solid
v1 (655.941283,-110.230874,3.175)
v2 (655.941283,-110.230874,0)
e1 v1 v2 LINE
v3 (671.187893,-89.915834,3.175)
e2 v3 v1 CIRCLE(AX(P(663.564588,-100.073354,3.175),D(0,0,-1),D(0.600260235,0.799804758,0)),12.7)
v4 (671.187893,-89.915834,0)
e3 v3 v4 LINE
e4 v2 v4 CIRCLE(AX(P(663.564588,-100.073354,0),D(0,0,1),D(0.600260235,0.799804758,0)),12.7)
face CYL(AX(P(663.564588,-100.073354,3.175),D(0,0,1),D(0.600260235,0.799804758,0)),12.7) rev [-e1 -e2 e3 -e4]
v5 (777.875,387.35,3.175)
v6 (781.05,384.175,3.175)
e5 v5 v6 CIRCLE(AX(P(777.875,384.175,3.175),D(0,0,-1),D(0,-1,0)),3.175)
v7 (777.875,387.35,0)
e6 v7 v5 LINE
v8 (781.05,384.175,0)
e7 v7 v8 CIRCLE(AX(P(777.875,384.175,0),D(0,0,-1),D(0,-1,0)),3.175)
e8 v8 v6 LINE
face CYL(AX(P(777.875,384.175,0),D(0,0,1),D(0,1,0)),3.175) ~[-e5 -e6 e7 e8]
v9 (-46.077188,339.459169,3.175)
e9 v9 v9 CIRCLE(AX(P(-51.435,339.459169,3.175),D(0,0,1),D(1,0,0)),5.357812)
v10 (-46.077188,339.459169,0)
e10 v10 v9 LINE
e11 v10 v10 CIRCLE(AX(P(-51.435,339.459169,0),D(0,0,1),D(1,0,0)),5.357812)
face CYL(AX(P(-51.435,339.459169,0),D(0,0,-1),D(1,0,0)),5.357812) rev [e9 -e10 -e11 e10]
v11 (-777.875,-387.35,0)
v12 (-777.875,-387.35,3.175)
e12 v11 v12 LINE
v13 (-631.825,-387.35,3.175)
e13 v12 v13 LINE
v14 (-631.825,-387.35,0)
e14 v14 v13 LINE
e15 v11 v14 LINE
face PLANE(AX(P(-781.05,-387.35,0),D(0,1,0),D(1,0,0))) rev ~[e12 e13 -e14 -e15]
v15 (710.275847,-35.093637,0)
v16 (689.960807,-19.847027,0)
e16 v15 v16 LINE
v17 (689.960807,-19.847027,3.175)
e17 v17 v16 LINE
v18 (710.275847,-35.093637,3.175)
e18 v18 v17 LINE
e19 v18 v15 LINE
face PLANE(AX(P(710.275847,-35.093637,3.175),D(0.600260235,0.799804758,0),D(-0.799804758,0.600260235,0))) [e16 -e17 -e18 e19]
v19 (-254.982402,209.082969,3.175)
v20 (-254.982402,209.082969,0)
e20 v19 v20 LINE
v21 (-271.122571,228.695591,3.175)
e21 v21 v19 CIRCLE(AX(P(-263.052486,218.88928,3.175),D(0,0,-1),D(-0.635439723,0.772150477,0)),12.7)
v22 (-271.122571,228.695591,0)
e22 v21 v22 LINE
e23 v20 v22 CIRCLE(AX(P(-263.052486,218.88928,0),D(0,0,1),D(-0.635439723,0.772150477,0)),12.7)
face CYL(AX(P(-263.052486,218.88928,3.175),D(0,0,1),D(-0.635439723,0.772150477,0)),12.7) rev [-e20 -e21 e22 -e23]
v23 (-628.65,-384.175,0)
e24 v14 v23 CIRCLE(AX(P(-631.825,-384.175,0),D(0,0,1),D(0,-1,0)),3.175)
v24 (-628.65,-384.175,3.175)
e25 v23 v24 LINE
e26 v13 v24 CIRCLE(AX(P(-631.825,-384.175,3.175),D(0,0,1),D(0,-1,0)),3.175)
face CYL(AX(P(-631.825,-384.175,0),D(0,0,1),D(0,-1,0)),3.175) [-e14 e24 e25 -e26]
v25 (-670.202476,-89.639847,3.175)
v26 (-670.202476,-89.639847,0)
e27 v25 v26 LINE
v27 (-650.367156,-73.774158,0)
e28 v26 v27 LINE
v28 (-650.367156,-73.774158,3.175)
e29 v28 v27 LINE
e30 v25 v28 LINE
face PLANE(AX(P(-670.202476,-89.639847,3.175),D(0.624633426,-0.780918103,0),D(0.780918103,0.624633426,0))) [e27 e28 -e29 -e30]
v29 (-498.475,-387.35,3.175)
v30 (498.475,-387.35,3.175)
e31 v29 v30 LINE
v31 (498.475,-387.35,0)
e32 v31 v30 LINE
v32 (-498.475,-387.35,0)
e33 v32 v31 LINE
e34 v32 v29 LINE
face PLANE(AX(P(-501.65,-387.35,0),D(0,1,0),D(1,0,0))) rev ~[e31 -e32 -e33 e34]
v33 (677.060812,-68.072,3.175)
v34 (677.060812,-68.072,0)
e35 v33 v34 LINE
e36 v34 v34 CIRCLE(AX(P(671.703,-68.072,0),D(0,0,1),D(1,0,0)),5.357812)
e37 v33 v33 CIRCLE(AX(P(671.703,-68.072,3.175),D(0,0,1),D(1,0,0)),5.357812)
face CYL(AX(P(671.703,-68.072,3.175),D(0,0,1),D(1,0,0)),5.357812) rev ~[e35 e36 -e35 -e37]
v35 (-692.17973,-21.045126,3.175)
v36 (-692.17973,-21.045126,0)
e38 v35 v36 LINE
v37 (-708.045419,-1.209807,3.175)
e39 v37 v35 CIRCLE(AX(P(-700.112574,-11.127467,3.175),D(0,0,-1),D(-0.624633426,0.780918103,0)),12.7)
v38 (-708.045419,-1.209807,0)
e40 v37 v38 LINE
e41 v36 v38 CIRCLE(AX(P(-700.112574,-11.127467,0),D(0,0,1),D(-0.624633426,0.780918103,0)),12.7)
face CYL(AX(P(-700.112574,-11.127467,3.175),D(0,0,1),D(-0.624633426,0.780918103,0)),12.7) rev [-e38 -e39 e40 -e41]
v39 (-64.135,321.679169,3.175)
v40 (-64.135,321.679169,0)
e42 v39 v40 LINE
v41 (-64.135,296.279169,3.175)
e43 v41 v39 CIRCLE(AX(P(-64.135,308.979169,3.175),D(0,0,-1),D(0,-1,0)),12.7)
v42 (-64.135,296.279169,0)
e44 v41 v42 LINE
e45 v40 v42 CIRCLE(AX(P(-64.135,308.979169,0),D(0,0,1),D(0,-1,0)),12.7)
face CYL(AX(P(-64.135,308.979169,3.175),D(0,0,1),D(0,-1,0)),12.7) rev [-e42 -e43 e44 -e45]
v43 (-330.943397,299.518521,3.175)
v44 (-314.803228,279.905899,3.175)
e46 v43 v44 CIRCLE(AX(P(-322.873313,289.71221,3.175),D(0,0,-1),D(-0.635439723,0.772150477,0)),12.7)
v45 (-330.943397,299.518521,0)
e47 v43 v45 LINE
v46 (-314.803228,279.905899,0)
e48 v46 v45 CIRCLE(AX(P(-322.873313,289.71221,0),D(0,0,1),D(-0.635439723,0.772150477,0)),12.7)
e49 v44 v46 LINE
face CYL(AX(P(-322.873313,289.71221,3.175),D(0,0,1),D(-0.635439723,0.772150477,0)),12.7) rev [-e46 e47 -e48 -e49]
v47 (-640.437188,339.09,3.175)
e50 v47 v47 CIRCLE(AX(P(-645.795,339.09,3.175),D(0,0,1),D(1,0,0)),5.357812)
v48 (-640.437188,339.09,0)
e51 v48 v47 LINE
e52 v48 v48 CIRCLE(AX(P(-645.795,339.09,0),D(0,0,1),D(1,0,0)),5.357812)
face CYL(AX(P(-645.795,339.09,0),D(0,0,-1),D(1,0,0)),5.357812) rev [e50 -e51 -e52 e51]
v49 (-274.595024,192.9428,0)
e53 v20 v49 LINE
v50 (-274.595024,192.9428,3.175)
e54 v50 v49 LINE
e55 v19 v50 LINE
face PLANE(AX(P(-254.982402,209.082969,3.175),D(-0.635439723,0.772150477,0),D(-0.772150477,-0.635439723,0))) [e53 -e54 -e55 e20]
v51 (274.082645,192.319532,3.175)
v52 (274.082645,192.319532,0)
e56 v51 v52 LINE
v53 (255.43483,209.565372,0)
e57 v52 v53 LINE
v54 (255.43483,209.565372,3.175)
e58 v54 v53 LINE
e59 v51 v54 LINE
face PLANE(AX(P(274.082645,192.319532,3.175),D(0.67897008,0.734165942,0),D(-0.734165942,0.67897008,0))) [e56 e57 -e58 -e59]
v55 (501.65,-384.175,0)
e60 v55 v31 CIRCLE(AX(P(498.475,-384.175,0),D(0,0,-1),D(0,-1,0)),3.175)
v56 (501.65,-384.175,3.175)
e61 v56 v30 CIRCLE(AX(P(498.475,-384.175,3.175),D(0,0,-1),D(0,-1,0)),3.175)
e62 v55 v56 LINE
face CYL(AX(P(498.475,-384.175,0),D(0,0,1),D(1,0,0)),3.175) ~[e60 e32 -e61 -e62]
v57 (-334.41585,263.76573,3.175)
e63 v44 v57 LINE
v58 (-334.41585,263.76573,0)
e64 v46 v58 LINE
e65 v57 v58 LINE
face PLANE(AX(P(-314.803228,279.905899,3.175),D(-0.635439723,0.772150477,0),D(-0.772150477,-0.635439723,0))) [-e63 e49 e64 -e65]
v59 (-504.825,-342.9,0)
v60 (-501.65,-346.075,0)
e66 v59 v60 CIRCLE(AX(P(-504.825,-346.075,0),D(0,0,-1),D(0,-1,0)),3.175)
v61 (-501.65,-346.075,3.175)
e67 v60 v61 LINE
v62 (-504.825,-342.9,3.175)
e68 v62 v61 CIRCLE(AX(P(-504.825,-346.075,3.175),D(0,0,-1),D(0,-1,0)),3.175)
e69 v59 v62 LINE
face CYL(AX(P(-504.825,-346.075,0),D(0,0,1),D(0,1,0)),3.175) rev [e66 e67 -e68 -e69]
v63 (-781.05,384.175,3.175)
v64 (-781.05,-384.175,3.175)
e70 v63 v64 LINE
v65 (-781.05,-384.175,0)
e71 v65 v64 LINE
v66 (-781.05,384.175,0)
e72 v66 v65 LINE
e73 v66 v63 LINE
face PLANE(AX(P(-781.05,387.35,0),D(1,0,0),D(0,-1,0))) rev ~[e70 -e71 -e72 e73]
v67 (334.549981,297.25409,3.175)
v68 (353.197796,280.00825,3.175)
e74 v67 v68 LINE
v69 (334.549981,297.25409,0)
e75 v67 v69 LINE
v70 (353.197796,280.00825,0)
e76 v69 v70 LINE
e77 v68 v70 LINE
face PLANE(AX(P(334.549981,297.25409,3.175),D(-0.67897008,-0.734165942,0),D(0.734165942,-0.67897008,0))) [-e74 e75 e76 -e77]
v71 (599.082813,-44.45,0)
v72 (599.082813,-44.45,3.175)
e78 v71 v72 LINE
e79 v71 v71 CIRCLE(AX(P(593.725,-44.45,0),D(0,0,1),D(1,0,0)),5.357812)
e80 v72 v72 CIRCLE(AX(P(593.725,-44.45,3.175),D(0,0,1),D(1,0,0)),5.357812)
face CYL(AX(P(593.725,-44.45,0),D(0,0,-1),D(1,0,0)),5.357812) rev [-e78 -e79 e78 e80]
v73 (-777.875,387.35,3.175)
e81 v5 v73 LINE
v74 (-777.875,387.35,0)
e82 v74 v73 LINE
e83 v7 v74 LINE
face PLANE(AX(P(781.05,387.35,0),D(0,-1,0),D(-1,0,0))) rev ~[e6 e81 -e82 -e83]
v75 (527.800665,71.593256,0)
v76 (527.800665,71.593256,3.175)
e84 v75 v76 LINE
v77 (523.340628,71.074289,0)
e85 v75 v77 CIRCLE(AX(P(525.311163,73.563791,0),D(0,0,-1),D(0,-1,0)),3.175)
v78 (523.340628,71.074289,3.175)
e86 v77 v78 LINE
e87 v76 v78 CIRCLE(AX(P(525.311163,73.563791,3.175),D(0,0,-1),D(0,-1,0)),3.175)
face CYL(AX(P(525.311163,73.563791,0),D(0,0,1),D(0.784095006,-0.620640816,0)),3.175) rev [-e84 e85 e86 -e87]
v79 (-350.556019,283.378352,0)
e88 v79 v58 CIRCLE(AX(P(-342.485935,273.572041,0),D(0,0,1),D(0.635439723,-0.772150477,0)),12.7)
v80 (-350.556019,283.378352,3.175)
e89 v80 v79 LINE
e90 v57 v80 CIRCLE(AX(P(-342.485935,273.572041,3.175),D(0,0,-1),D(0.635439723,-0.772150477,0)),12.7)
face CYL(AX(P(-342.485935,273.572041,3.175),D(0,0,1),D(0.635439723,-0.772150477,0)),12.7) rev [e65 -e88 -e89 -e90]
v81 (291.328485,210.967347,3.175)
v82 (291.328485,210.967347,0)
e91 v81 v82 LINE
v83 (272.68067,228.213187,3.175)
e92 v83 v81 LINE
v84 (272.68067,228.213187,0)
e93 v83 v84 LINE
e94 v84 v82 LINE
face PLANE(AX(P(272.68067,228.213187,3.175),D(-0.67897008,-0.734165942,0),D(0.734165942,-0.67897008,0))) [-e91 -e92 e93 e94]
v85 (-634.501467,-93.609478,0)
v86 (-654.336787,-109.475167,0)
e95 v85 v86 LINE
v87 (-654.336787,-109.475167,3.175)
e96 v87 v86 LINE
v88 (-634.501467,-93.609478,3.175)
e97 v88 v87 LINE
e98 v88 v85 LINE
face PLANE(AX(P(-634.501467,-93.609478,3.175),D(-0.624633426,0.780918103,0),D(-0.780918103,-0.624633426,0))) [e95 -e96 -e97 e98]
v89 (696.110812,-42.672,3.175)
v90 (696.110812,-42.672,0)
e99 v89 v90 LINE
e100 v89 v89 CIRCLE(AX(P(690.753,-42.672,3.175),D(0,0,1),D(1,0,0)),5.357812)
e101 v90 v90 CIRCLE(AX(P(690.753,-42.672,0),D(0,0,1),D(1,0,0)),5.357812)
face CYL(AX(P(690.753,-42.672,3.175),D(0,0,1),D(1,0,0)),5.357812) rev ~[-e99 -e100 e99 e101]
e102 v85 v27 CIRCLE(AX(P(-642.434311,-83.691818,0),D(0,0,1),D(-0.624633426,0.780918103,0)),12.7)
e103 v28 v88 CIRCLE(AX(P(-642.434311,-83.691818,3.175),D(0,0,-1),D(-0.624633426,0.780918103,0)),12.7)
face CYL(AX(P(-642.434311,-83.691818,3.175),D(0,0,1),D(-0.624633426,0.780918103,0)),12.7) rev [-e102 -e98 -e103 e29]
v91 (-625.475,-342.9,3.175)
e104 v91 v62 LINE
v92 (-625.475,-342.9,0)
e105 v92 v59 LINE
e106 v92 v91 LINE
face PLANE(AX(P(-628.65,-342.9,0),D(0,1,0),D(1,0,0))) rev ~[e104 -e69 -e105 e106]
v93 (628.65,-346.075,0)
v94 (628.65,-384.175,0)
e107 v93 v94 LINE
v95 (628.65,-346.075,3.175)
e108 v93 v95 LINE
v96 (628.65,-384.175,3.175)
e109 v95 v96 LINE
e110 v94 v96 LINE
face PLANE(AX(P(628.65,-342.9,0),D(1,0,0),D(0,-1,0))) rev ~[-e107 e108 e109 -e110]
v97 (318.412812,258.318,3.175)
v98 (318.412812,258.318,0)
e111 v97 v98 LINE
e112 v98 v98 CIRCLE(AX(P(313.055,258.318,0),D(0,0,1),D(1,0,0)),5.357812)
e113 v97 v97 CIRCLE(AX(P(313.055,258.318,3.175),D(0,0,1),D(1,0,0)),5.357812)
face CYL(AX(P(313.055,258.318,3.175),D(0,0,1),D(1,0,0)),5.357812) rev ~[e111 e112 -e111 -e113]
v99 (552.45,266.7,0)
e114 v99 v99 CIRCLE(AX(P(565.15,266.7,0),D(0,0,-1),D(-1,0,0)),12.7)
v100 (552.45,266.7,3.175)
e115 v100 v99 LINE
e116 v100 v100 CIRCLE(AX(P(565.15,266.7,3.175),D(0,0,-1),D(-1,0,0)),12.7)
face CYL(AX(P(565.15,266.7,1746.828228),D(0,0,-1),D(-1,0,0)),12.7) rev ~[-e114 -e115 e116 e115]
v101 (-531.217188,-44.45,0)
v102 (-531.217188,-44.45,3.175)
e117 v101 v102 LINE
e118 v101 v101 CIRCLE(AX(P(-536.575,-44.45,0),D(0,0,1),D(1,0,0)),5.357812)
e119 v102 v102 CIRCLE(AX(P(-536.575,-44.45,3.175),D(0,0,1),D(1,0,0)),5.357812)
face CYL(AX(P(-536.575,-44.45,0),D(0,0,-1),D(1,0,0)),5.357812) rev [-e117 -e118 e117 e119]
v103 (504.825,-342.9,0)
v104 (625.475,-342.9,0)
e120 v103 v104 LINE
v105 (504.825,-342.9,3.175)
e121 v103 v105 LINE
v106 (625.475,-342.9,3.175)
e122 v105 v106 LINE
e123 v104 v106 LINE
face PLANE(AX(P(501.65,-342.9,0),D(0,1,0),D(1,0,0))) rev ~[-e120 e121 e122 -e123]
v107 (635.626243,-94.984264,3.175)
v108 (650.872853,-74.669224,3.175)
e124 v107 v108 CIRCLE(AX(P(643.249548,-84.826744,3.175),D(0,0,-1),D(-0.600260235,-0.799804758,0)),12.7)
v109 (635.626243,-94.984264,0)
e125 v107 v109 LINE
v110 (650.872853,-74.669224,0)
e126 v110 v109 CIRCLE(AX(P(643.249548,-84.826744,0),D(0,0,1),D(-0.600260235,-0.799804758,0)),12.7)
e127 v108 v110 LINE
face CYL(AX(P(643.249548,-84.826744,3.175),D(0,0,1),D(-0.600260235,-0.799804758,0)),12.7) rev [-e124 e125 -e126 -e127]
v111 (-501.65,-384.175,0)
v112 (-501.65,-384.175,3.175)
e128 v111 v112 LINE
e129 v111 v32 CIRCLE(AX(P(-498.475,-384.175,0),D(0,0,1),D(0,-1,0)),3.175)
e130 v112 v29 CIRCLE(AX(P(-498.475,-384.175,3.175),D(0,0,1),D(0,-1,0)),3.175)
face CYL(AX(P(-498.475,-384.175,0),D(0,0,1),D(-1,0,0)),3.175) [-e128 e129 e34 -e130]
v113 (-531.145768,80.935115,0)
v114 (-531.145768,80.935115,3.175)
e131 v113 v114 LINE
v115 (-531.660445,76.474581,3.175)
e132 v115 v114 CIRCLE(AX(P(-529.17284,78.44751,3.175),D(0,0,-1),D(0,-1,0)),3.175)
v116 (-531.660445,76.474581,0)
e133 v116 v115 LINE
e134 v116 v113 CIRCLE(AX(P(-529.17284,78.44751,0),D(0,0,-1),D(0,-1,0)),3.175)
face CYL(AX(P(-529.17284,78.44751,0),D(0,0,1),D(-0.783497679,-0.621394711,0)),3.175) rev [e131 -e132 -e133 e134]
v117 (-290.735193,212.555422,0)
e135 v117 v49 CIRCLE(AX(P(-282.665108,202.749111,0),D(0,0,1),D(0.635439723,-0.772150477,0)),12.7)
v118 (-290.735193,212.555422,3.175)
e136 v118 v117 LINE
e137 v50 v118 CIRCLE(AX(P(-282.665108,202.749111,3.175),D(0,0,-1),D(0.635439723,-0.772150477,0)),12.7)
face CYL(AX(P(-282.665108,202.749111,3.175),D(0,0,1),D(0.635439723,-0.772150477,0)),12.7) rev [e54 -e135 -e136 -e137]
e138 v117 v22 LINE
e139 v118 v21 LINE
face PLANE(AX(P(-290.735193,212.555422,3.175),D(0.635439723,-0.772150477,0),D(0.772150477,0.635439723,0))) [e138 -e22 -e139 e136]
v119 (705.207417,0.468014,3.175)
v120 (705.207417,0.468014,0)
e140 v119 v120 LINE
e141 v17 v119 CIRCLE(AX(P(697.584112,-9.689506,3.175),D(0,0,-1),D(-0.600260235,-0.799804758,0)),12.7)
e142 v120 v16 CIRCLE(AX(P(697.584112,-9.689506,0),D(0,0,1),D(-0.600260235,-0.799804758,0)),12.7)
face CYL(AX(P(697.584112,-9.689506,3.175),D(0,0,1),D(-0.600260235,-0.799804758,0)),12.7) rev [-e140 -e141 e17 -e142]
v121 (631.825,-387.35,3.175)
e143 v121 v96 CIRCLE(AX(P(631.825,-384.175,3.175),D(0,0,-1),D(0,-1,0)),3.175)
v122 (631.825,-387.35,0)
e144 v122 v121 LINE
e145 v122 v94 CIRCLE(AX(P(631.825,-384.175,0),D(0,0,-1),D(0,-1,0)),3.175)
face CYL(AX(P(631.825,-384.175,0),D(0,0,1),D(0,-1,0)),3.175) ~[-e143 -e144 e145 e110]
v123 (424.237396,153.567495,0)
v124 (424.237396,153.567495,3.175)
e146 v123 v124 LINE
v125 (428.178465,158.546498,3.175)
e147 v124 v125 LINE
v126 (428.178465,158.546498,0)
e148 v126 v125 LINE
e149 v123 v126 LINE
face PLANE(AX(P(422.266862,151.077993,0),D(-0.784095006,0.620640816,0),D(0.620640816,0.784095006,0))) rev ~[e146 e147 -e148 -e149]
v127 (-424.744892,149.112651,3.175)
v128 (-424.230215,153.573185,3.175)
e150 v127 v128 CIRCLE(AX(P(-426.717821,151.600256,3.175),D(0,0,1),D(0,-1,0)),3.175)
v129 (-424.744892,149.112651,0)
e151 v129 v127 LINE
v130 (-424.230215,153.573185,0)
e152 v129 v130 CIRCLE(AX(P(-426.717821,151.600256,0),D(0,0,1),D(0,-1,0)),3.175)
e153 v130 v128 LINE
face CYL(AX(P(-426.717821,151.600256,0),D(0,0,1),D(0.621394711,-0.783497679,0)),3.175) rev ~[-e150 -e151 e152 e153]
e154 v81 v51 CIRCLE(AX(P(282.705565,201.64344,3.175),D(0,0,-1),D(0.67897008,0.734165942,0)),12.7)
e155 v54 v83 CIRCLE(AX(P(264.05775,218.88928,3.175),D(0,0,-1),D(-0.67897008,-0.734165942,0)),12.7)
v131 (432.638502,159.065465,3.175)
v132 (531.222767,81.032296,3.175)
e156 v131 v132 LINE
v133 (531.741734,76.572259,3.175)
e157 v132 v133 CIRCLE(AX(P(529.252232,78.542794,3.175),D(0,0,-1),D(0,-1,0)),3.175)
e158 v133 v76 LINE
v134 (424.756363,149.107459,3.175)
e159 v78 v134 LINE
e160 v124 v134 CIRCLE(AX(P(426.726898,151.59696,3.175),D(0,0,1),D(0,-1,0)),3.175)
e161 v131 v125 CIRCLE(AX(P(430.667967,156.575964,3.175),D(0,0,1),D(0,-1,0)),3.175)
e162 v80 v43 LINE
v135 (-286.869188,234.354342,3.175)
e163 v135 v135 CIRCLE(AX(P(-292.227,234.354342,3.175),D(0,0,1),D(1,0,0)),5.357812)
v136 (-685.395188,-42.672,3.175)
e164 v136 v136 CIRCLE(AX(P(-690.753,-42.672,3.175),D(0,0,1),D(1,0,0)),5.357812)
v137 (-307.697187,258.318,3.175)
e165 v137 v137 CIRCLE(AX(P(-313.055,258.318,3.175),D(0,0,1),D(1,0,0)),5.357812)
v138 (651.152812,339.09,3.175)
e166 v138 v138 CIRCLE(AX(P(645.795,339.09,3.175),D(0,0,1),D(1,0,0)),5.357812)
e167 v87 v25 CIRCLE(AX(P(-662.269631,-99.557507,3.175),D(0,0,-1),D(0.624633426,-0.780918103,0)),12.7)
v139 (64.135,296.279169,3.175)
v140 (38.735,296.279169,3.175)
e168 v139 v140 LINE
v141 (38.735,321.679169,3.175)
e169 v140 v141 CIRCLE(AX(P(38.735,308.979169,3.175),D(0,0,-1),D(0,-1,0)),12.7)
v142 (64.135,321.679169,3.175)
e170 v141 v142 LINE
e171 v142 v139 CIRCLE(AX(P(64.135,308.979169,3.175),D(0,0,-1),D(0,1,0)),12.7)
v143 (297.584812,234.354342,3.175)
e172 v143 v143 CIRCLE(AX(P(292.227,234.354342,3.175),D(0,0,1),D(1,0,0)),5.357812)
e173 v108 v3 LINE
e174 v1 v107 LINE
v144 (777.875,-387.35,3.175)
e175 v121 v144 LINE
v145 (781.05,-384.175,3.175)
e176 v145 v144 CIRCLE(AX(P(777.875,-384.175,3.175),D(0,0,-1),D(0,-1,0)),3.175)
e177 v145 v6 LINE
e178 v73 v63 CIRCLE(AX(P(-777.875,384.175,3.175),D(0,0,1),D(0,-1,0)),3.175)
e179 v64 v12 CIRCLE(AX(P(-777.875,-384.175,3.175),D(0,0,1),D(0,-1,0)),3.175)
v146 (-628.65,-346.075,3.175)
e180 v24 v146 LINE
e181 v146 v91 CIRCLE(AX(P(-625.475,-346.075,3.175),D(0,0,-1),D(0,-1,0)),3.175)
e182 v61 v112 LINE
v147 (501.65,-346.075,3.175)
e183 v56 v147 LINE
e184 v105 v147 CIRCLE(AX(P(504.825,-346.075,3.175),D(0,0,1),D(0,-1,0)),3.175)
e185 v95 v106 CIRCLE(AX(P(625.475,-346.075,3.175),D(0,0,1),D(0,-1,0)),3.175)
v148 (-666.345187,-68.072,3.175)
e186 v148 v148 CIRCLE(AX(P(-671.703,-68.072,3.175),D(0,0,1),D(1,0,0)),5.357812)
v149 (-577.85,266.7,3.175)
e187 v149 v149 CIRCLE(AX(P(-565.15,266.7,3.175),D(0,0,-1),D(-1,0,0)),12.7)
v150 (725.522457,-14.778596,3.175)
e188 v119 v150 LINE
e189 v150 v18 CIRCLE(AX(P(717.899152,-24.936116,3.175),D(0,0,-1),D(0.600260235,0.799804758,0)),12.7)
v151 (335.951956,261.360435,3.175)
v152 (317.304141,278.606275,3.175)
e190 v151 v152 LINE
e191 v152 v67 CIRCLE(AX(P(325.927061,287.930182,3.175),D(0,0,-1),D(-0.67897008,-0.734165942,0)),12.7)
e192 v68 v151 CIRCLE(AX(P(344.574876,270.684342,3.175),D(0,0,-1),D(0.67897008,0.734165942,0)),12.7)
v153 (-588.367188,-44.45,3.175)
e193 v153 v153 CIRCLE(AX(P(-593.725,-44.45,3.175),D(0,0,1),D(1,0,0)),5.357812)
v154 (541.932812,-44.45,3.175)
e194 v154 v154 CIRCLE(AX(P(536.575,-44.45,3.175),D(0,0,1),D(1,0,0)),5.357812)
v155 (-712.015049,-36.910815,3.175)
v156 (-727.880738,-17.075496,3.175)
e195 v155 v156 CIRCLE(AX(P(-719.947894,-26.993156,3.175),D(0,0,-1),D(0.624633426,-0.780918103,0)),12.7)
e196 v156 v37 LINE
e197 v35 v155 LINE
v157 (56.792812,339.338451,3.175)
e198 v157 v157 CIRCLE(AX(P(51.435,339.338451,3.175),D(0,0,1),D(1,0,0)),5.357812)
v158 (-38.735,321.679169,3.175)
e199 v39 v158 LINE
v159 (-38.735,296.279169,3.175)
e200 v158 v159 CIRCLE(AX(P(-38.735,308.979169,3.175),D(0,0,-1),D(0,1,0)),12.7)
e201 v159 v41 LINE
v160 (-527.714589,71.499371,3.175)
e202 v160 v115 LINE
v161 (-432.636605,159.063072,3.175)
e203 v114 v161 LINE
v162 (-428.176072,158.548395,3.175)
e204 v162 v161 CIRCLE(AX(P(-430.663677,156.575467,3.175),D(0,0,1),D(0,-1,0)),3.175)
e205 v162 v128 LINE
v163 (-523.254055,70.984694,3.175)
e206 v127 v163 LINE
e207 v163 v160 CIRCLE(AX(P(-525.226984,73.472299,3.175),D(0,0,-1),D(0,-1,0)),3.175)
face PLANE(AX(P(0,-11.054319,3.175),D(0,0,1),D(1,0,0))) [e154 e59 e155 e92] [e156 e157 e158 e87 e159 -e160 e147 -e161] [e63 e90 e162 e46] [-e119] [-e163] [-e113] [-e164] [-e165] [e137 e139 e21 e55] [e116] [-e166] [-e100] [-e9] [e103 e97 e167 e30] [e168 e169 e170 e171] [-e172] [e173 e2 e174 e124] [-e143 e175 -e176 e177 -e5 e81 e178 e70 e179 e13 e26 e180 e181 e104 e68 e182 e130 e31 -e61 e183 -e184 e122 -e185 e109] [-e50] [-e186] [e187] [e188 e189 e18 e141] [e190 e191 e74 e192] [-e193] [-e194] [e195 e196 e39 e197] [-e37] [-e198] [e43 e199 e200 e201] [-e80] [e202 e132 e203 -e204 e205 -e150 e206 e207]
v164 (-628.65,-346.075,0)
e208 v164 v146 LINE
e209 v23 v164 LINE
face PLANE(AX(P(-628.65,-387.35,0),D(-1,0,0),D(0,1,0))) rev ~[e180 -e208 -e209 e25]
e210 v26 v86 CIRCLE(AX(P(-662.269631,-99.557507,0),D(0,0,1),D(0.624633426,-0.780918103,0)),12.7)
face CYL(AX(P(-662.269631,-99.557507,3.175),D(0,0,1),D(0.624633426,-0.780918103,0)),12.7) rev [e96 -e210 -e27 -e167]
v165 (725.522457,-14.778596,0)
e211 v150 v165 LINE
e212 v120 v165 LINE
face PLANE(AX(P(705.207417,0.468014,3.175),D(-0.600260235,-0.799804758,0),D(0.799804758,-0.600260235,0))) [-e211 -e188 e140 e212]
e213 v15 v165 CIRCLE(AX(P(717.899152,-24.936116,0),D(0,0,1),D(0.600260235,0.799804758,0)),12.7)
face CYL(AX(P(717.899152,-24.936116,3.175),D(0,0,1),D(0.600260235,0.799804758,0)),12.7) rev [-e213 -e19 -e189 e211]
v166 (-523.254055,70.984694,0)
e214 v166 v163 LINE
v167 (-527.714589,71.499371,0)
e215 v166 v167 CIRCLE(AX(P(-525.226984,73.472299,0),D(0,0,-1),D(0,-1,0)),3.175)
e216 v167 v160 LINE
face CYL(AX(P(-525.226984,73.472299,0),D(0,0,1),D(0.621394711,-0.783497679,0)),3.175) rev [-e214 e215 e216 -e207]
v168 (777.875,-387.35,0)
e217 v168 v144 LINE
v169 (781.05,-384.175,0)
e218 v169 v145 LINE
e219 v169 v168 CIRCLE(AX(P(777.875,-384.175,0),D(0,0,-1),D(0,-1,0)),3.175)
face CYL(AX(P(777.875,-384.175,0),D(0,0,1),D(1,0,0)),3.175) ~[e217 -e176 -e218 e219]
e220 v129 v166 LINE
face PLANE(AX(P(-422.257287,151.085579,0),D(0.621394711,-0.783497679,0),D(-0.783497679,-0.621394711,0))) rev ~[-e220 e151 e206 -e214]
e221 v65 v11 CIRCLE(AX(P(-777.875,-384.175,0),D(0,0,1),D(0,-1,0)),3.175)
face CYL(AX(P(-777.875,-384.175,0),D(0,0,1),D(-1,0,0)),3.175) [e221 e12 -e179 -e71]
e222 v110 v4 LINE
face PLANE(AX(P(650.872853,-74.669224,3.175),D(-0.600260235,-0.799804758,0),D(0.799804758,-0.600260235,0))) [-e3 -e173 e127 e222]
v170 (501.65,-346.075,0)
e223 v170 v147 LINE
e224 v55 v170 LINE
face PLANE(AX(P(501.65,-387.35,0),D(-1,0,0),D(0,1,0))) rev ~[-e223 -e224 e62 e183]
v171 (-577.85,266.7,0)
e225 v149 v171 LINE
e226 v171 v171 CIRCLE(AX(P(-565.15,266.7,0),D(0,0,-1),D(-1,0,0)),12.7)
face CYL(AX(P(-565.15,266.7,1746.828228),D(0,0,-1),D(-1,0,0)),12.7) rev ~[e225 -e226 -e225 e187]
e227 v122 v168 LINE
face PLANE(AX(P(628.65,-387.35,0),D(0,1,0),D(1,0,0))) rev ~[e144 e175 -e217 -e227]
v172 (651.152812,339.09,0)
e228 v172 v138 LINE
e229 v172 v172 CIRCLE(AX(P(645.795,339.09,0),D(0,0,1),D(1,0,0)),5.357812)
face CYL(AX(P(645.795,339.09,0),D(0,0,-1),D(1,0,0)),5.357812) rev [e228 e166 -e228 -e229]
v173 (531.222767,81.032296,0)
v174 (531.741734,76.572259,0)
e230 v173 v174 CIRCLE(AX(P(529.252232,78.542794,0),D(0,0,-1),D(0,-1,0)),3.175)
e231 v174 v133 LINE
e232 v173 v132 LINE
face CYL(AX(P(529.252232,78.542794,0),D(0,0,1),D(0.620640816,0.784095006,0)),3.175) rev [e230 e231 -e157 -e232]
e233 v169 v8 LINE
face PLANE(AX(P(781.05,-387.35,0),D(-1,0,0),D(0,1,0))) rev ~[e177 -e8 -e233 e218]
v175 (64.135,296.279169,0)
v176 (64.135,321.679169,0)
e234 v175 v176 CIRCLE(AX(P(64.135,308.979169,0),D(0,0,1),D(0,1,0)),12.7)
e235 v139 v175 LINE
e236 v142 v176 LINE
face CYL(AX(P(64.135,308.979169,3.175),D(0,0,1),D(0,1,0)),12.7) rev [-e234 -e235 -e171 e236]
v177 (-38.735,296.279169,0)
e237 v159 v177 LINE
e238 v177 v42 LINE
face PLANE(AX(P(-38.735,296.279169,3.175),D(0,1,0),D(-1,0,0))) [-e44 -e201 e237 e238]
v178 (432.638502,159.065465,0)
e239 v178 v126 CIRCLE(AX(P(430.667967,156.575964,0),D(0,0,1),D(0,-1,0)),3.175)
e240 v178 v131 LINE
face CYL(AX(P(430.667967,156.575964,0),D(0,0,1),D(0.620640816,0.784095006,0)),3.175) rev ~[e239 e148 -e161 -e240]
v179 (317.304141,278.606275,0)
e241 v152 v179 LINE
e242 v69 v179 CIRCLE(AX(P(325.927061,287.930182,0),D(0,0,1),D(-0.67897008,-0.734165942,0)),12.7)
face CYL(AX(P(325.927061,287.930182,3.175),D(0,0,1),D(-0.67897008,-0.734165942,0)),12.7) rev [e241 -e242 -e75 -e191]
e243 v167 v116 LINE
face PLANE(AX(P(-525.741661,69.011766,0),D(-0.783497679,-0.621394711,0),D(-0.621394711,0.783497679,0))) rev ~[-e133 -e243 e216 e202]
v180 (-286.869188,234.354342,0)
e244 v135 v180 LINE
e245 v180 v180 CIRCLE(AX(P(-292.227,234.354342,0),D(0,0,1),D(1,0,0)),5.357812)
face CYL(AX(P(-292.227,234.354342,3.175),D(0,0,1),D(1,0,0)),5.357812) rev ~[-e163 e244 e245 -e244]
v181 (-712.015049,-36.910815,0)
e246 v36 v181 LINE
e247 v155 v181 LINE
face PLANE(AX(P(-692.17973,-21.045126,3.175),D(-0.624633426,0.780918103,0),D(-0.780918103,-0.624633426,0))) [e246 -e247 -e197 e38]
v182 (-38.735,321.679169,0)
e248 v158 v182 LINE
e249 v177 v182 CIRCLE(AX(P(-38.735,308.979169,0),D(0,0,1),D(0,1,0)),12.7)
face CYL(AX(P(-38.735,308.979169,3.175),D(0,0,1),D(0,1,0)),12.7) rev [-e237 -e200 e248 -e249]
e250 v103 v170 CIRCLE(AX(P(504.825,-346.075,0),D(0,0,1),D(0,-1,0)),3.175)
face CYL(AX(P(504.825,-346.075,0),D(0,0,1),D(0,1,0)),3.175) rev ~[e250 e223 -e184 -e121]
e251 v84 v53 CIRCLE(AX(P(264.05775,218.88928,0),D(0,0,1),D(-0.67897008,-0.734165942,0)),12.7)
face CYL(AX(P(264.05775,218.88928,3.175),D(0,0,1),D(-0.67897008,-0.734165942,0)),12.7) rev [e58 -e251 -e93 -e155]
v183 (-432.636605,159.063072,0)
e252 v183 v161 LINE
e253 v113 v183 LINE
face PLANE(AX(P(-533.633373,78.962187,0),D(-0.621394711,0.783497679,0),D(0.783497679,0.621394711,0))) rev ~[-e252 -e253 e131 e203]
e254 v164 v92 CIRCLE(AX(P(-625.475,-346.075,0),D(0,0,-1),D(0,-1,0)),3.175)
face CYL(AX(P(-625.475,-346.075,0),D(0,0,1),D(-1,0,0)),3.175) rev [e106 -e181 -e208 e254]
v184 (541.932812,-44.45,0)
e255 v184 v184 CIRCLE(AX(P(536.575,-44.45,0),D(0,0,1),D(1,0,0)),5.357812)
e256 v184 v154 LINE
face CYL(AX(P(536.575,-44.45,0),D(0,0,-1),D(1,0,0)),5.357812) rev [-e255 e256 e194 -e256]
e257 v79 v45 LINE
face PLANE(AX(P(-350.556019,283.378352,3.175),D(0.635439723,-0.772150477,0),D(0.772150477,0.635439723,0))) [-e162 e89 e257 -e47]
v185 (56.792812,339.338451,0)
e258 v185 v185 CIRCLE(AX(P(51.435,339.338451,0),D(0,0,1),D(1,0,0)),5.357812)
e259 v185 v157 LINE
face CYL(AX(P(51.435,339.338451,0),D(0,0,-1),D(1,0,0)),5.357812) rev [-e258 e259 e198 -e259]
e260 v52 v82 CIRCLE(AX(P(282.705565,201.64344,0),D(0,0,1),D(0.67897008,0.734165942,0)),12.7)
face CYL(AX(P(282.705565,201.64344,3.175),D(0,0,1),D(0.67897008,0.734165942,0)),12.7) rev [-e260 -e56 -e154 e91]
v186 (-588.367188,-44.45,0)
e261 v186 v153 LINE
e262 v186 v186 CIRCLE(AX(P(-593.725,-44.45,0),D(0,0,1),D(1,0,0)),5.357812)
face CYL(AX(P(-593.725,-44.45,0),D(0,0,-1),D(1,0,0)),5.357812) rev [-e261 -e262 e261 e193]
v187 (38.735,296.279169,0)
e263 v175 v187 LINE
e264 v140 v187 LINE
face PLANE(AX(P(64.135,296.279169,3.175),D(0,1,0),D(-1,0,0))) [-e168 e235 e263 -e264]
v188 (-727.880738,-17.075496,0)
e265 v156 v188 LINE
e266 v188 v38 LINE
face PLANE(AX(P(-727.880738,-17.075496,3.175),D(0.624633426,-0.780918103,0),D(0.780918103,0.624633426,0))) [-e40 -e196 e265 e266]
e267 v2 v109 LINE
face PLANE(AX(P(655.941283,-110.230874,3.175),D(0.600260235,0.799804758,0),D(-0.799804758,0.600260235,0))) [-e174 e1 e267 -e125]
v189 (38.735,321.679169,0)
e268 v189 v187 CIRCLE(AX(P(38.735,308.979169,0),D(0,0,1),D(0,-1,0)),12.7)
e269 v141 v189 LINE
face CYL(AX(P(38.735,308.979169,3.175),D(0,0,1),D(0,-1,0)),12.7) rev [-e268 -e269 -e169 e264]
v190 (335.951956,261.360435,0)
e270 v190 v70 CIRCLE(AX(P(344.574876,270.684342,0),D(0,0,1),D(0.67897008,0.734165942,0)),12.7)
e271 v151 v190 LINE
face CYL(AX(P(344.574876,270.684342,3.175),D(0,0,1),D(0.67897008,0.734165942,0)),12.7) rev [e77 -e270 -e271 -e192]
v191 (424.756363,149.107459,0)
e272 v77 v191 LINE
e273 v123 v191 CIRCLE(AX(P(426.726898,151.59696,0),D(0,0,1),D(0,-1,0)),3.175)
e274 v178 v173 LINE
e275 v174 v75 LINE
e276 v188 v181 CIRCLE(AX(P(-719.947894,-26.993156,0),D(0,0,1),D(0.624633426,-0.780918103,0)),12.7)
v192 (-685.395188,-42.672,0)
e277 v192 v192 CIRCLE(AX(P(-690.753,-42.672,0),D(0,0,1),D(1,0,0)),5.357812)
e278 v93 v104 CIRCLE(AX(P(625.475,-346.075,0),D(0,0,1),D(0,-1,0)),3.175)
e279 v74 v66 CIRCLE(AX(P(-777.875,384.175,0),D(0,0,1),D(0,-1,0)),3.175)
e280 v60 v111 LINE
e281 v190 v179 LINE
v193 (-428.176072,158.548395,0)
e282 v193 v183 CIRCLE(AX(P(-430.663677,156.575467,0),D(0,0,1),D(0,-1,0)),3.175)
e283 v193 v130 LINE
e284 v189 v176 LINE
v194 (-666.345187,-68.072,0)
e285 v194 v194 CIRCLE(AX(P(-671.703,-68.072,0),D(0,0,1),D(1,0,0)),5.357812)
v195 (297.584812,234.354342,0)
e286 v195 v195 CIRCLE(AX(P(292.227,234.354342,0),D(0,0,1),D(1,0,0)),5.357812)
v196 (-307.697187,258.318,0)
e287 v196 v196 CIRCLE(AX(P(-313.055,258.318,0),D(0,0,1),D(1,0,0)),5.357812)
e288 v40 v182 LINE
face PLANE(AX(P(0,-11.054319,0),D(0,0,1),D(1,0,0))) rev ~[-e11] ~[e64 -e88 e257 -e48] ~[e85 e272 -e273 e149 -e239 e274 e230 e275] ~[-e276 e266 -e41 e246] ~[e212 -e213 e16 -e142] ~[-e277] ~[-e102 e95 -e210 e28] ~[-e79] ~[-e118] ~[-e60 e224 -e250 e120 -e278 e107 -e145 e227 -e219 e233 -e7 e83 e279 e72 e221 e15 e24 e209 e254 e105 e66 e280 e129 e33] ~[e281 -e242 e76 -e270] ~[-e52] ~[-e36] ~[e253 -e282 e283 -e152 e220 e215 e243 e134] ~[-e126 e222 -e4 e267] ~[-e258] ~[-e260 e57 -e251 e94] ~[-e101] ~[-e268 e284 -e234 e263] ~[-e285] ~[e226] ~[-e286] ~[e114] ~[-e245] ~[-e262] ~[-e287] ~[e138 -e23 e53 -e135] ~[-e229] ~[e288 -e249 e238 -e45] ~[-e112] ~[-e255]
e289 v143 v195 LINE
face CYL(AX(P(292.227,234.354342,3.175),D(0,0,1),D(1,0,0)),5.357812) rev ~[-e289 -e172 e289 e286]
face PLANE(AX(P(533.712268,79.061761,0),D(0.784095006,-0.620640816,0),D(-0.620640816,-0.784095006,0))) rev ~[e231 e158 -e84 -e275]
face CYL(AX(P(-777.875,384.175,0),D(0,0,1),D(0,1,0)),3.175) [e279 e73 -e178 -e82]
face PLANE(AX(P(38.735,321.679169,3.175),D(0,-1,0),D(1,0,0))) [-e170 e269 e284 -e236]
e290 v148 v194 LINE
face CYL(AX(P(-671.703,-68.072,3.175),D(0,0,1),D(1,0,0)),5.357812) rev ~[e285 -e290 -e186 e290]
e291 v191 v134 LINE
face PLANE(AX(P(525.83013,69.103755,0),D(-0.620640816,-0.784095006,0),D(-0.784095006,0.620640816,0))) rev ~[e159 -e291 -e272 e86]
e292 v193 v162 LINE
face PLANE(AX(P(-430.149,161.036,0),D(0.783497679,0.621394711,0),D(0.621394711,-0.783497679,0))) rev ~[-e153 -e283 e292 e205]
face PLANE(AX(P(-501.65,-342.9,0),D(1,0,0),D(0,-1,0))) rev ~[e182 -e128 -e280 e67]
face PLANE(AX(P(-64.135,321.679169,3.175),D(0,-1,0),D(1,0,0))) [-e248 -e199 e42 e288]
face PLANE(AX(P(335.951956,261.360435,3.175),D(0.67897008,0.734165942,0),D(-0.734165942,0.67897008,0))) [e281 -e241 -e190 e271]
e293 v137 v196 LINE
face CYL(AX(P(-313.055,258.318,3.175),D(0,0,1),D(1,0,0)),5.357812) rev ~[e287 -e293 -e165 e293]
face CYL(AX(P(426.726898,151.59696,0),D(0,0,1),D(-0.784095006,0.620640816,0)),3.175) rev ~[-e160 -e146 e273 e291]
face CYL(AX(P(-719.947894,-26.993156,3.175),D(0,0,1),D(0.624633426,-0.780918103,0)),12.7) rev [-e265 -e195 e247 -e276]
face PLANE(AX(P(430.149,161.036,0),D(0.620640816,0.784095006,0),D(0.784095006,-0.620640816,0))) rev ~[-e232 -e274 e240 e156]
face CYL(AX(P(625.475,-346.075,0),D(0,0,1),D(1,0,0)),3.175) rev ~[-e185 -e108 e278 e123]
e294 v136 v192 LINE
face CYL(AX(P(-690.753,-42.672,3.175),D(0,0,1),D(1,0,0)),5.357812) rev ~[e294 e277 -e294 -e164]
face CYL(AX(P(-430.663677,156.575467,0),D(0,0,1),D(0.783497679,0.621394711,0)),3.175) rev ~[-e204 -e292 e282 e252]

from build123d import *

# Parameters (mm, degrees)
SKETCH1_R              = 5.3578125
BOSS_EXTRUDE1_DEPTH    = 3.175
SKETCH2_R              = 5.3578125
CUT_EXTRUDE1_DEPTH     = 872.830950142
CUT_EXTRUDE2_DEPTH     = 872.830950142
FILLET1_R              = 3.175
F_1_1_DIAMETER_HOLE1_D = 25.4


with BuildPart() as part:
    # Sketch1 → Boss-Extrude1 (new body)
    with BuildSketch(Plane.XY):
        Polygon((781.05, 387.35), (-781.05, 387.35), (-781.05, -387.35), (-628.65, -387.35), (-628.65, -342.9), (-501.65, -342.9), (-501.65, -387.35), (501.65, -387.35), (501.65, -342.9), (628.65, -342.9), (628.65, -387.35), (781.05, -387.35), align=None)
        with Locations((-593.725, -44.45)):
            Circle(SKETCH1_R, mode=Mode.SUBTRACT)
        with Locations((-536.575, -44.45)):
            Circle(SKETCH1_R, mode=Mode.SUBTRACT)
        with Locations((536.575, -44.45)):
            Circle(SKETCH1_R, mode=Mode.SUBTRACT)
        with Locations((593.725, -44.45)):
            Circle(SKETCH1_R, mode=Mode.SUBTRACT)
        Polygon((-525.741660624, 69.011766046), (-533.633373454, 78.962186571), (-430.149, 161.036), (-422.25728717, 151.085579476), align=None, mode=Mode.SUBTRACT)
        with Locations((-645.795, 339.09)):
            Circle(SKETCH1_R, mode=Mode.SUBTRACT)
        with Locations((-51.435, 339.459169182)):
            Circle(SKETCH1_R, mode=Mode.SUBTRACT)
        Polygon((533.712268362, 79.061761082), (525.830130005, 69.103754509), (422.266861643, 151.077993427), (430.149, 161.036), align=None, mode=Mode.SUBTRACT)
        with Locations((51.435, 339.338450694)):
            Circle(SKETCH1_R, mode=Mode.SUBTRACT)
        with Locations((645.795, 339.09)):
            Circle(SKETCH1_R, mode=Mode.SUBTRACT)
    extrude(amount=BOSS_EXTRUDE1_DEPTH)

    # Sketch2 → Cut-Extrude1 (cut, through all)
    with BuildSketch(Plane.XY.offset(3.175)):
        with Locations((-313.055, 258.318)):
            Circle(SKETCH2_R)
        with Locations((-292.227, 234.354341765)):
            Circle(SKETCH2_R)
        with Locations((-690.753, -42.672)):
            Circle(SKETCH2_R)
        with Locations((-671.703, -68.072)):
            Circle(SKETCH2_R)
        with Locations((292.227, 234.354341765)):
            Circle(SKETCH2_R)
        with Locations((313.055, 258.318)):
            Circle(SKETCH2_R)
        with Locations((690.753, -42.672)):
            Circle(SKETCH2_R)
        with Locations((671.703, -68.072)):
            Circle(SKETCH2_R)
    extrude(amount=-CUT_EXTRUDE1_DEPTH, mode=Mode.SUBTRACT)

    # Sketch3 → Cut-Extrude2 (cut, through all)
    with BuildSketch(Plane.XY.offset(3.175)):
        with BuildLine():
            Line((-64.135, 321.679169182), (-38.735, 321.679169182))
            ThreePointArc((-38.735, 321.679169182), (-26.035, 308.979169182), (-38.735, 296.279169182))
            Line((-38.735, 296.279169182), (-64.135, 296.279169182))
            ThreePointArc((-64.135, 296.279169182), (-76.835, 308.979169182), (-64.135, 321.679169182))
        make_face()
        with BuildLine():
            Line((38.735, 321.679169182), (64.135, 321.679169182))
            ThreePointArc((64.135, 321.679169182), (76.835, 308.979169182), (64.135, 296.279169182))
            Line((64.135, 296.279169182), (38.735, 296.279169182))
            ThreePointArc((38.735, 296.279169182), (26.035, 308.979169182), (38.735, 321.679169182))
        make_face()
        with BuildLine():
            Line((-350.556019335, 283.378351904), (-330.943397226, 299.518520862))
            ThreePointArc((-330.943397226, 299.518520862), (-313.067001693, 297.782294287), (-314.803228268, 279.905898753))
            Line((-314.803228268, 279.905898753), (-334.415850377, 263.765729795))
            ThreePointArc((-334.415850377, 263.765729795), (-352.292245911, 265.50195637), (-350.556019335, 283.378351904))
        make_face()
        with BuildLine():
            Line((-290.735192784, 212.55542181), (-271.122570675, 228.695590768))
            ThreePointArc((-271.122570675, 228.695590768), (-253.246175141, 226.959364193), (-254.982401716, 209.082968659))
            Line((-254.982401716, 209.082968659), (-274.595023825, 192.9427997))
            ThreePointArc((-274.595023825, 192.9427997), (-292.471419359, 194.679026276), (-290.735192784, 212.55542181))
        make_face()
        with BuildLine():
            Line((-727.880738371, -17.075495686), (-708.045418559, -1.20980667))
            ThreePointArc((-708.045418559, -1.20980667), (-690.194914145, -3.194622068), (-692.179729543, -21.045126482))
            Line((-692.179729543, -21.045126482), (-712.015049355, -36.910815498))
            ThreePointArc((-712.015049355, -36.910815498), (-729.865553769, -34.9260001), (-727.880738371, -17.075495686))
        make_face()
        with BuildLine():
            Line((-670.202475675, -89.639847242), (-650.367155863, -73.774158225))
            ThreePointArc((-650.367155863, -73.774158225), (-632.516651449, -75.758973623), (-634.501466846, -93.609478037))
            Line((-634.501466846, -93.609478037), (-654.336786658, -109.475167053))
            ThreePointArc((-654.336786658, -109.475167053), (-672.187291072, -107.490351656), (-670.202475675, -89.639847242))
        make_face()
        with BuildLine():
            Line((334.54998107, 297.254089706), (353.197796006, 280.008249683))
            ThreePointArc((353.197796006, 280.008249683), (353.898783462, 262.061422203), (335.951955982, 261.360434746))
            Line((335.951955982, 261.360434746), (317.304141046, 278.60627477))
            ThreePointArc((317.304141046, 278.60627477), (316.60315359, 296.553102249), (334.54998107, 297.254089706))
        make_face()
        with BuildLine():
            Line((272.680669675, 228.213187181), (291.328484611, 210.967347158))
            ThreePointArc((291.328484611, 210.967347158), (292.029472067, 193.020519678), (274.082644588, 192.319532222))
            Line((274.082644588, 192.319532222), (255.434829652, 209.565372245))
            ThreePointArc((255.434829652, 209.565372245), (254.733842195, 227.512199725), (272.680669675, 228.213187181))
        make_face()
        with BuildLine():
            Line((650.872852602, -74.669223611), (671.187893449, -89.915833575))
            ThreePointArc((671.187893449, -89.915833575), (673.722108891, -107.69665898), (655.941283485, -110.230874422))
            Line((655.941283485, -110.230874422), (635.626242638, -94.984264458))
            ThreePointArc((635.626242638, -94.984264458), (633.092027197, -77.203439053), (650.872852602, -74.669223611))
        make_face()
        with BuildLine():
            Line((705.207416511, 0.46801413), (725.522457358, -14.778595833))
            ThreePointArc((725.522457358, -14.778595833), (728.0566728, -32.559421239), (710.275847395, -35.09363668))
            Line((710.275847395, -35.09363668), (689.960806548, -19.847026717))
            ThreePointArc((689.960806548, -19.847026717), (687.426591106, -2.066201311), (705.207416511, 0.46801413))
        make_face()
    extrude(amount=-CUT_EXTRUDE2_DEPTH, mode=Mode.SUBTRACT)

    # Fillet1
    fillet1_edges = [part.edges().sort_by_distance(p)[0] for p in [
        (430.149, 161.036, 1.5875),
        (422.266861643, 151.077993427, 1.5875),
        (525.830130005, 69.103754509, 1.5875),
        (533.712268362, 79.061761082, 1.5875),
        (-501.65, -387.35, 1.5875),
        (-501.65, -342.9, 1.5875),
        (-628.65, -342.9, 1.5875),
        (-628.65, -387.35, 1.5875),
        (-781.05, -387.35, 1.5875),
        (-781.05, 387.35, 1.5875),
        (781.05, 387.35, 1.5875),
        (781.05, -387.35, 1.5875),
        (628.65, -387.35, 1.5875),
        (628.65, -342.9, 1.5875),
        (501.65, -342.9, 1.5875),
        (501.65, -387.35, 1.5875),
        (-533.633373454, 78.962186571, 1.5875),
        (-525.741660624, 69.011766046, 1.5875),
        (-422.25728717, 151.085579476, 1.5875),
        (-430.149, 161.036, 1.5875),
    ]]
    fillet(fillet1_edges, radius=FILLET1_R)

    # 1 (1) Diameter Hole1 (through all)
    with Locations(Plane.XY.offset(3.175)):
        with Locations((-565.15, 266.7), (565.15, 266.7)):
            Hole(F_1_1_DIAMETER_HOLE1_D / 2)


solid = part.part
